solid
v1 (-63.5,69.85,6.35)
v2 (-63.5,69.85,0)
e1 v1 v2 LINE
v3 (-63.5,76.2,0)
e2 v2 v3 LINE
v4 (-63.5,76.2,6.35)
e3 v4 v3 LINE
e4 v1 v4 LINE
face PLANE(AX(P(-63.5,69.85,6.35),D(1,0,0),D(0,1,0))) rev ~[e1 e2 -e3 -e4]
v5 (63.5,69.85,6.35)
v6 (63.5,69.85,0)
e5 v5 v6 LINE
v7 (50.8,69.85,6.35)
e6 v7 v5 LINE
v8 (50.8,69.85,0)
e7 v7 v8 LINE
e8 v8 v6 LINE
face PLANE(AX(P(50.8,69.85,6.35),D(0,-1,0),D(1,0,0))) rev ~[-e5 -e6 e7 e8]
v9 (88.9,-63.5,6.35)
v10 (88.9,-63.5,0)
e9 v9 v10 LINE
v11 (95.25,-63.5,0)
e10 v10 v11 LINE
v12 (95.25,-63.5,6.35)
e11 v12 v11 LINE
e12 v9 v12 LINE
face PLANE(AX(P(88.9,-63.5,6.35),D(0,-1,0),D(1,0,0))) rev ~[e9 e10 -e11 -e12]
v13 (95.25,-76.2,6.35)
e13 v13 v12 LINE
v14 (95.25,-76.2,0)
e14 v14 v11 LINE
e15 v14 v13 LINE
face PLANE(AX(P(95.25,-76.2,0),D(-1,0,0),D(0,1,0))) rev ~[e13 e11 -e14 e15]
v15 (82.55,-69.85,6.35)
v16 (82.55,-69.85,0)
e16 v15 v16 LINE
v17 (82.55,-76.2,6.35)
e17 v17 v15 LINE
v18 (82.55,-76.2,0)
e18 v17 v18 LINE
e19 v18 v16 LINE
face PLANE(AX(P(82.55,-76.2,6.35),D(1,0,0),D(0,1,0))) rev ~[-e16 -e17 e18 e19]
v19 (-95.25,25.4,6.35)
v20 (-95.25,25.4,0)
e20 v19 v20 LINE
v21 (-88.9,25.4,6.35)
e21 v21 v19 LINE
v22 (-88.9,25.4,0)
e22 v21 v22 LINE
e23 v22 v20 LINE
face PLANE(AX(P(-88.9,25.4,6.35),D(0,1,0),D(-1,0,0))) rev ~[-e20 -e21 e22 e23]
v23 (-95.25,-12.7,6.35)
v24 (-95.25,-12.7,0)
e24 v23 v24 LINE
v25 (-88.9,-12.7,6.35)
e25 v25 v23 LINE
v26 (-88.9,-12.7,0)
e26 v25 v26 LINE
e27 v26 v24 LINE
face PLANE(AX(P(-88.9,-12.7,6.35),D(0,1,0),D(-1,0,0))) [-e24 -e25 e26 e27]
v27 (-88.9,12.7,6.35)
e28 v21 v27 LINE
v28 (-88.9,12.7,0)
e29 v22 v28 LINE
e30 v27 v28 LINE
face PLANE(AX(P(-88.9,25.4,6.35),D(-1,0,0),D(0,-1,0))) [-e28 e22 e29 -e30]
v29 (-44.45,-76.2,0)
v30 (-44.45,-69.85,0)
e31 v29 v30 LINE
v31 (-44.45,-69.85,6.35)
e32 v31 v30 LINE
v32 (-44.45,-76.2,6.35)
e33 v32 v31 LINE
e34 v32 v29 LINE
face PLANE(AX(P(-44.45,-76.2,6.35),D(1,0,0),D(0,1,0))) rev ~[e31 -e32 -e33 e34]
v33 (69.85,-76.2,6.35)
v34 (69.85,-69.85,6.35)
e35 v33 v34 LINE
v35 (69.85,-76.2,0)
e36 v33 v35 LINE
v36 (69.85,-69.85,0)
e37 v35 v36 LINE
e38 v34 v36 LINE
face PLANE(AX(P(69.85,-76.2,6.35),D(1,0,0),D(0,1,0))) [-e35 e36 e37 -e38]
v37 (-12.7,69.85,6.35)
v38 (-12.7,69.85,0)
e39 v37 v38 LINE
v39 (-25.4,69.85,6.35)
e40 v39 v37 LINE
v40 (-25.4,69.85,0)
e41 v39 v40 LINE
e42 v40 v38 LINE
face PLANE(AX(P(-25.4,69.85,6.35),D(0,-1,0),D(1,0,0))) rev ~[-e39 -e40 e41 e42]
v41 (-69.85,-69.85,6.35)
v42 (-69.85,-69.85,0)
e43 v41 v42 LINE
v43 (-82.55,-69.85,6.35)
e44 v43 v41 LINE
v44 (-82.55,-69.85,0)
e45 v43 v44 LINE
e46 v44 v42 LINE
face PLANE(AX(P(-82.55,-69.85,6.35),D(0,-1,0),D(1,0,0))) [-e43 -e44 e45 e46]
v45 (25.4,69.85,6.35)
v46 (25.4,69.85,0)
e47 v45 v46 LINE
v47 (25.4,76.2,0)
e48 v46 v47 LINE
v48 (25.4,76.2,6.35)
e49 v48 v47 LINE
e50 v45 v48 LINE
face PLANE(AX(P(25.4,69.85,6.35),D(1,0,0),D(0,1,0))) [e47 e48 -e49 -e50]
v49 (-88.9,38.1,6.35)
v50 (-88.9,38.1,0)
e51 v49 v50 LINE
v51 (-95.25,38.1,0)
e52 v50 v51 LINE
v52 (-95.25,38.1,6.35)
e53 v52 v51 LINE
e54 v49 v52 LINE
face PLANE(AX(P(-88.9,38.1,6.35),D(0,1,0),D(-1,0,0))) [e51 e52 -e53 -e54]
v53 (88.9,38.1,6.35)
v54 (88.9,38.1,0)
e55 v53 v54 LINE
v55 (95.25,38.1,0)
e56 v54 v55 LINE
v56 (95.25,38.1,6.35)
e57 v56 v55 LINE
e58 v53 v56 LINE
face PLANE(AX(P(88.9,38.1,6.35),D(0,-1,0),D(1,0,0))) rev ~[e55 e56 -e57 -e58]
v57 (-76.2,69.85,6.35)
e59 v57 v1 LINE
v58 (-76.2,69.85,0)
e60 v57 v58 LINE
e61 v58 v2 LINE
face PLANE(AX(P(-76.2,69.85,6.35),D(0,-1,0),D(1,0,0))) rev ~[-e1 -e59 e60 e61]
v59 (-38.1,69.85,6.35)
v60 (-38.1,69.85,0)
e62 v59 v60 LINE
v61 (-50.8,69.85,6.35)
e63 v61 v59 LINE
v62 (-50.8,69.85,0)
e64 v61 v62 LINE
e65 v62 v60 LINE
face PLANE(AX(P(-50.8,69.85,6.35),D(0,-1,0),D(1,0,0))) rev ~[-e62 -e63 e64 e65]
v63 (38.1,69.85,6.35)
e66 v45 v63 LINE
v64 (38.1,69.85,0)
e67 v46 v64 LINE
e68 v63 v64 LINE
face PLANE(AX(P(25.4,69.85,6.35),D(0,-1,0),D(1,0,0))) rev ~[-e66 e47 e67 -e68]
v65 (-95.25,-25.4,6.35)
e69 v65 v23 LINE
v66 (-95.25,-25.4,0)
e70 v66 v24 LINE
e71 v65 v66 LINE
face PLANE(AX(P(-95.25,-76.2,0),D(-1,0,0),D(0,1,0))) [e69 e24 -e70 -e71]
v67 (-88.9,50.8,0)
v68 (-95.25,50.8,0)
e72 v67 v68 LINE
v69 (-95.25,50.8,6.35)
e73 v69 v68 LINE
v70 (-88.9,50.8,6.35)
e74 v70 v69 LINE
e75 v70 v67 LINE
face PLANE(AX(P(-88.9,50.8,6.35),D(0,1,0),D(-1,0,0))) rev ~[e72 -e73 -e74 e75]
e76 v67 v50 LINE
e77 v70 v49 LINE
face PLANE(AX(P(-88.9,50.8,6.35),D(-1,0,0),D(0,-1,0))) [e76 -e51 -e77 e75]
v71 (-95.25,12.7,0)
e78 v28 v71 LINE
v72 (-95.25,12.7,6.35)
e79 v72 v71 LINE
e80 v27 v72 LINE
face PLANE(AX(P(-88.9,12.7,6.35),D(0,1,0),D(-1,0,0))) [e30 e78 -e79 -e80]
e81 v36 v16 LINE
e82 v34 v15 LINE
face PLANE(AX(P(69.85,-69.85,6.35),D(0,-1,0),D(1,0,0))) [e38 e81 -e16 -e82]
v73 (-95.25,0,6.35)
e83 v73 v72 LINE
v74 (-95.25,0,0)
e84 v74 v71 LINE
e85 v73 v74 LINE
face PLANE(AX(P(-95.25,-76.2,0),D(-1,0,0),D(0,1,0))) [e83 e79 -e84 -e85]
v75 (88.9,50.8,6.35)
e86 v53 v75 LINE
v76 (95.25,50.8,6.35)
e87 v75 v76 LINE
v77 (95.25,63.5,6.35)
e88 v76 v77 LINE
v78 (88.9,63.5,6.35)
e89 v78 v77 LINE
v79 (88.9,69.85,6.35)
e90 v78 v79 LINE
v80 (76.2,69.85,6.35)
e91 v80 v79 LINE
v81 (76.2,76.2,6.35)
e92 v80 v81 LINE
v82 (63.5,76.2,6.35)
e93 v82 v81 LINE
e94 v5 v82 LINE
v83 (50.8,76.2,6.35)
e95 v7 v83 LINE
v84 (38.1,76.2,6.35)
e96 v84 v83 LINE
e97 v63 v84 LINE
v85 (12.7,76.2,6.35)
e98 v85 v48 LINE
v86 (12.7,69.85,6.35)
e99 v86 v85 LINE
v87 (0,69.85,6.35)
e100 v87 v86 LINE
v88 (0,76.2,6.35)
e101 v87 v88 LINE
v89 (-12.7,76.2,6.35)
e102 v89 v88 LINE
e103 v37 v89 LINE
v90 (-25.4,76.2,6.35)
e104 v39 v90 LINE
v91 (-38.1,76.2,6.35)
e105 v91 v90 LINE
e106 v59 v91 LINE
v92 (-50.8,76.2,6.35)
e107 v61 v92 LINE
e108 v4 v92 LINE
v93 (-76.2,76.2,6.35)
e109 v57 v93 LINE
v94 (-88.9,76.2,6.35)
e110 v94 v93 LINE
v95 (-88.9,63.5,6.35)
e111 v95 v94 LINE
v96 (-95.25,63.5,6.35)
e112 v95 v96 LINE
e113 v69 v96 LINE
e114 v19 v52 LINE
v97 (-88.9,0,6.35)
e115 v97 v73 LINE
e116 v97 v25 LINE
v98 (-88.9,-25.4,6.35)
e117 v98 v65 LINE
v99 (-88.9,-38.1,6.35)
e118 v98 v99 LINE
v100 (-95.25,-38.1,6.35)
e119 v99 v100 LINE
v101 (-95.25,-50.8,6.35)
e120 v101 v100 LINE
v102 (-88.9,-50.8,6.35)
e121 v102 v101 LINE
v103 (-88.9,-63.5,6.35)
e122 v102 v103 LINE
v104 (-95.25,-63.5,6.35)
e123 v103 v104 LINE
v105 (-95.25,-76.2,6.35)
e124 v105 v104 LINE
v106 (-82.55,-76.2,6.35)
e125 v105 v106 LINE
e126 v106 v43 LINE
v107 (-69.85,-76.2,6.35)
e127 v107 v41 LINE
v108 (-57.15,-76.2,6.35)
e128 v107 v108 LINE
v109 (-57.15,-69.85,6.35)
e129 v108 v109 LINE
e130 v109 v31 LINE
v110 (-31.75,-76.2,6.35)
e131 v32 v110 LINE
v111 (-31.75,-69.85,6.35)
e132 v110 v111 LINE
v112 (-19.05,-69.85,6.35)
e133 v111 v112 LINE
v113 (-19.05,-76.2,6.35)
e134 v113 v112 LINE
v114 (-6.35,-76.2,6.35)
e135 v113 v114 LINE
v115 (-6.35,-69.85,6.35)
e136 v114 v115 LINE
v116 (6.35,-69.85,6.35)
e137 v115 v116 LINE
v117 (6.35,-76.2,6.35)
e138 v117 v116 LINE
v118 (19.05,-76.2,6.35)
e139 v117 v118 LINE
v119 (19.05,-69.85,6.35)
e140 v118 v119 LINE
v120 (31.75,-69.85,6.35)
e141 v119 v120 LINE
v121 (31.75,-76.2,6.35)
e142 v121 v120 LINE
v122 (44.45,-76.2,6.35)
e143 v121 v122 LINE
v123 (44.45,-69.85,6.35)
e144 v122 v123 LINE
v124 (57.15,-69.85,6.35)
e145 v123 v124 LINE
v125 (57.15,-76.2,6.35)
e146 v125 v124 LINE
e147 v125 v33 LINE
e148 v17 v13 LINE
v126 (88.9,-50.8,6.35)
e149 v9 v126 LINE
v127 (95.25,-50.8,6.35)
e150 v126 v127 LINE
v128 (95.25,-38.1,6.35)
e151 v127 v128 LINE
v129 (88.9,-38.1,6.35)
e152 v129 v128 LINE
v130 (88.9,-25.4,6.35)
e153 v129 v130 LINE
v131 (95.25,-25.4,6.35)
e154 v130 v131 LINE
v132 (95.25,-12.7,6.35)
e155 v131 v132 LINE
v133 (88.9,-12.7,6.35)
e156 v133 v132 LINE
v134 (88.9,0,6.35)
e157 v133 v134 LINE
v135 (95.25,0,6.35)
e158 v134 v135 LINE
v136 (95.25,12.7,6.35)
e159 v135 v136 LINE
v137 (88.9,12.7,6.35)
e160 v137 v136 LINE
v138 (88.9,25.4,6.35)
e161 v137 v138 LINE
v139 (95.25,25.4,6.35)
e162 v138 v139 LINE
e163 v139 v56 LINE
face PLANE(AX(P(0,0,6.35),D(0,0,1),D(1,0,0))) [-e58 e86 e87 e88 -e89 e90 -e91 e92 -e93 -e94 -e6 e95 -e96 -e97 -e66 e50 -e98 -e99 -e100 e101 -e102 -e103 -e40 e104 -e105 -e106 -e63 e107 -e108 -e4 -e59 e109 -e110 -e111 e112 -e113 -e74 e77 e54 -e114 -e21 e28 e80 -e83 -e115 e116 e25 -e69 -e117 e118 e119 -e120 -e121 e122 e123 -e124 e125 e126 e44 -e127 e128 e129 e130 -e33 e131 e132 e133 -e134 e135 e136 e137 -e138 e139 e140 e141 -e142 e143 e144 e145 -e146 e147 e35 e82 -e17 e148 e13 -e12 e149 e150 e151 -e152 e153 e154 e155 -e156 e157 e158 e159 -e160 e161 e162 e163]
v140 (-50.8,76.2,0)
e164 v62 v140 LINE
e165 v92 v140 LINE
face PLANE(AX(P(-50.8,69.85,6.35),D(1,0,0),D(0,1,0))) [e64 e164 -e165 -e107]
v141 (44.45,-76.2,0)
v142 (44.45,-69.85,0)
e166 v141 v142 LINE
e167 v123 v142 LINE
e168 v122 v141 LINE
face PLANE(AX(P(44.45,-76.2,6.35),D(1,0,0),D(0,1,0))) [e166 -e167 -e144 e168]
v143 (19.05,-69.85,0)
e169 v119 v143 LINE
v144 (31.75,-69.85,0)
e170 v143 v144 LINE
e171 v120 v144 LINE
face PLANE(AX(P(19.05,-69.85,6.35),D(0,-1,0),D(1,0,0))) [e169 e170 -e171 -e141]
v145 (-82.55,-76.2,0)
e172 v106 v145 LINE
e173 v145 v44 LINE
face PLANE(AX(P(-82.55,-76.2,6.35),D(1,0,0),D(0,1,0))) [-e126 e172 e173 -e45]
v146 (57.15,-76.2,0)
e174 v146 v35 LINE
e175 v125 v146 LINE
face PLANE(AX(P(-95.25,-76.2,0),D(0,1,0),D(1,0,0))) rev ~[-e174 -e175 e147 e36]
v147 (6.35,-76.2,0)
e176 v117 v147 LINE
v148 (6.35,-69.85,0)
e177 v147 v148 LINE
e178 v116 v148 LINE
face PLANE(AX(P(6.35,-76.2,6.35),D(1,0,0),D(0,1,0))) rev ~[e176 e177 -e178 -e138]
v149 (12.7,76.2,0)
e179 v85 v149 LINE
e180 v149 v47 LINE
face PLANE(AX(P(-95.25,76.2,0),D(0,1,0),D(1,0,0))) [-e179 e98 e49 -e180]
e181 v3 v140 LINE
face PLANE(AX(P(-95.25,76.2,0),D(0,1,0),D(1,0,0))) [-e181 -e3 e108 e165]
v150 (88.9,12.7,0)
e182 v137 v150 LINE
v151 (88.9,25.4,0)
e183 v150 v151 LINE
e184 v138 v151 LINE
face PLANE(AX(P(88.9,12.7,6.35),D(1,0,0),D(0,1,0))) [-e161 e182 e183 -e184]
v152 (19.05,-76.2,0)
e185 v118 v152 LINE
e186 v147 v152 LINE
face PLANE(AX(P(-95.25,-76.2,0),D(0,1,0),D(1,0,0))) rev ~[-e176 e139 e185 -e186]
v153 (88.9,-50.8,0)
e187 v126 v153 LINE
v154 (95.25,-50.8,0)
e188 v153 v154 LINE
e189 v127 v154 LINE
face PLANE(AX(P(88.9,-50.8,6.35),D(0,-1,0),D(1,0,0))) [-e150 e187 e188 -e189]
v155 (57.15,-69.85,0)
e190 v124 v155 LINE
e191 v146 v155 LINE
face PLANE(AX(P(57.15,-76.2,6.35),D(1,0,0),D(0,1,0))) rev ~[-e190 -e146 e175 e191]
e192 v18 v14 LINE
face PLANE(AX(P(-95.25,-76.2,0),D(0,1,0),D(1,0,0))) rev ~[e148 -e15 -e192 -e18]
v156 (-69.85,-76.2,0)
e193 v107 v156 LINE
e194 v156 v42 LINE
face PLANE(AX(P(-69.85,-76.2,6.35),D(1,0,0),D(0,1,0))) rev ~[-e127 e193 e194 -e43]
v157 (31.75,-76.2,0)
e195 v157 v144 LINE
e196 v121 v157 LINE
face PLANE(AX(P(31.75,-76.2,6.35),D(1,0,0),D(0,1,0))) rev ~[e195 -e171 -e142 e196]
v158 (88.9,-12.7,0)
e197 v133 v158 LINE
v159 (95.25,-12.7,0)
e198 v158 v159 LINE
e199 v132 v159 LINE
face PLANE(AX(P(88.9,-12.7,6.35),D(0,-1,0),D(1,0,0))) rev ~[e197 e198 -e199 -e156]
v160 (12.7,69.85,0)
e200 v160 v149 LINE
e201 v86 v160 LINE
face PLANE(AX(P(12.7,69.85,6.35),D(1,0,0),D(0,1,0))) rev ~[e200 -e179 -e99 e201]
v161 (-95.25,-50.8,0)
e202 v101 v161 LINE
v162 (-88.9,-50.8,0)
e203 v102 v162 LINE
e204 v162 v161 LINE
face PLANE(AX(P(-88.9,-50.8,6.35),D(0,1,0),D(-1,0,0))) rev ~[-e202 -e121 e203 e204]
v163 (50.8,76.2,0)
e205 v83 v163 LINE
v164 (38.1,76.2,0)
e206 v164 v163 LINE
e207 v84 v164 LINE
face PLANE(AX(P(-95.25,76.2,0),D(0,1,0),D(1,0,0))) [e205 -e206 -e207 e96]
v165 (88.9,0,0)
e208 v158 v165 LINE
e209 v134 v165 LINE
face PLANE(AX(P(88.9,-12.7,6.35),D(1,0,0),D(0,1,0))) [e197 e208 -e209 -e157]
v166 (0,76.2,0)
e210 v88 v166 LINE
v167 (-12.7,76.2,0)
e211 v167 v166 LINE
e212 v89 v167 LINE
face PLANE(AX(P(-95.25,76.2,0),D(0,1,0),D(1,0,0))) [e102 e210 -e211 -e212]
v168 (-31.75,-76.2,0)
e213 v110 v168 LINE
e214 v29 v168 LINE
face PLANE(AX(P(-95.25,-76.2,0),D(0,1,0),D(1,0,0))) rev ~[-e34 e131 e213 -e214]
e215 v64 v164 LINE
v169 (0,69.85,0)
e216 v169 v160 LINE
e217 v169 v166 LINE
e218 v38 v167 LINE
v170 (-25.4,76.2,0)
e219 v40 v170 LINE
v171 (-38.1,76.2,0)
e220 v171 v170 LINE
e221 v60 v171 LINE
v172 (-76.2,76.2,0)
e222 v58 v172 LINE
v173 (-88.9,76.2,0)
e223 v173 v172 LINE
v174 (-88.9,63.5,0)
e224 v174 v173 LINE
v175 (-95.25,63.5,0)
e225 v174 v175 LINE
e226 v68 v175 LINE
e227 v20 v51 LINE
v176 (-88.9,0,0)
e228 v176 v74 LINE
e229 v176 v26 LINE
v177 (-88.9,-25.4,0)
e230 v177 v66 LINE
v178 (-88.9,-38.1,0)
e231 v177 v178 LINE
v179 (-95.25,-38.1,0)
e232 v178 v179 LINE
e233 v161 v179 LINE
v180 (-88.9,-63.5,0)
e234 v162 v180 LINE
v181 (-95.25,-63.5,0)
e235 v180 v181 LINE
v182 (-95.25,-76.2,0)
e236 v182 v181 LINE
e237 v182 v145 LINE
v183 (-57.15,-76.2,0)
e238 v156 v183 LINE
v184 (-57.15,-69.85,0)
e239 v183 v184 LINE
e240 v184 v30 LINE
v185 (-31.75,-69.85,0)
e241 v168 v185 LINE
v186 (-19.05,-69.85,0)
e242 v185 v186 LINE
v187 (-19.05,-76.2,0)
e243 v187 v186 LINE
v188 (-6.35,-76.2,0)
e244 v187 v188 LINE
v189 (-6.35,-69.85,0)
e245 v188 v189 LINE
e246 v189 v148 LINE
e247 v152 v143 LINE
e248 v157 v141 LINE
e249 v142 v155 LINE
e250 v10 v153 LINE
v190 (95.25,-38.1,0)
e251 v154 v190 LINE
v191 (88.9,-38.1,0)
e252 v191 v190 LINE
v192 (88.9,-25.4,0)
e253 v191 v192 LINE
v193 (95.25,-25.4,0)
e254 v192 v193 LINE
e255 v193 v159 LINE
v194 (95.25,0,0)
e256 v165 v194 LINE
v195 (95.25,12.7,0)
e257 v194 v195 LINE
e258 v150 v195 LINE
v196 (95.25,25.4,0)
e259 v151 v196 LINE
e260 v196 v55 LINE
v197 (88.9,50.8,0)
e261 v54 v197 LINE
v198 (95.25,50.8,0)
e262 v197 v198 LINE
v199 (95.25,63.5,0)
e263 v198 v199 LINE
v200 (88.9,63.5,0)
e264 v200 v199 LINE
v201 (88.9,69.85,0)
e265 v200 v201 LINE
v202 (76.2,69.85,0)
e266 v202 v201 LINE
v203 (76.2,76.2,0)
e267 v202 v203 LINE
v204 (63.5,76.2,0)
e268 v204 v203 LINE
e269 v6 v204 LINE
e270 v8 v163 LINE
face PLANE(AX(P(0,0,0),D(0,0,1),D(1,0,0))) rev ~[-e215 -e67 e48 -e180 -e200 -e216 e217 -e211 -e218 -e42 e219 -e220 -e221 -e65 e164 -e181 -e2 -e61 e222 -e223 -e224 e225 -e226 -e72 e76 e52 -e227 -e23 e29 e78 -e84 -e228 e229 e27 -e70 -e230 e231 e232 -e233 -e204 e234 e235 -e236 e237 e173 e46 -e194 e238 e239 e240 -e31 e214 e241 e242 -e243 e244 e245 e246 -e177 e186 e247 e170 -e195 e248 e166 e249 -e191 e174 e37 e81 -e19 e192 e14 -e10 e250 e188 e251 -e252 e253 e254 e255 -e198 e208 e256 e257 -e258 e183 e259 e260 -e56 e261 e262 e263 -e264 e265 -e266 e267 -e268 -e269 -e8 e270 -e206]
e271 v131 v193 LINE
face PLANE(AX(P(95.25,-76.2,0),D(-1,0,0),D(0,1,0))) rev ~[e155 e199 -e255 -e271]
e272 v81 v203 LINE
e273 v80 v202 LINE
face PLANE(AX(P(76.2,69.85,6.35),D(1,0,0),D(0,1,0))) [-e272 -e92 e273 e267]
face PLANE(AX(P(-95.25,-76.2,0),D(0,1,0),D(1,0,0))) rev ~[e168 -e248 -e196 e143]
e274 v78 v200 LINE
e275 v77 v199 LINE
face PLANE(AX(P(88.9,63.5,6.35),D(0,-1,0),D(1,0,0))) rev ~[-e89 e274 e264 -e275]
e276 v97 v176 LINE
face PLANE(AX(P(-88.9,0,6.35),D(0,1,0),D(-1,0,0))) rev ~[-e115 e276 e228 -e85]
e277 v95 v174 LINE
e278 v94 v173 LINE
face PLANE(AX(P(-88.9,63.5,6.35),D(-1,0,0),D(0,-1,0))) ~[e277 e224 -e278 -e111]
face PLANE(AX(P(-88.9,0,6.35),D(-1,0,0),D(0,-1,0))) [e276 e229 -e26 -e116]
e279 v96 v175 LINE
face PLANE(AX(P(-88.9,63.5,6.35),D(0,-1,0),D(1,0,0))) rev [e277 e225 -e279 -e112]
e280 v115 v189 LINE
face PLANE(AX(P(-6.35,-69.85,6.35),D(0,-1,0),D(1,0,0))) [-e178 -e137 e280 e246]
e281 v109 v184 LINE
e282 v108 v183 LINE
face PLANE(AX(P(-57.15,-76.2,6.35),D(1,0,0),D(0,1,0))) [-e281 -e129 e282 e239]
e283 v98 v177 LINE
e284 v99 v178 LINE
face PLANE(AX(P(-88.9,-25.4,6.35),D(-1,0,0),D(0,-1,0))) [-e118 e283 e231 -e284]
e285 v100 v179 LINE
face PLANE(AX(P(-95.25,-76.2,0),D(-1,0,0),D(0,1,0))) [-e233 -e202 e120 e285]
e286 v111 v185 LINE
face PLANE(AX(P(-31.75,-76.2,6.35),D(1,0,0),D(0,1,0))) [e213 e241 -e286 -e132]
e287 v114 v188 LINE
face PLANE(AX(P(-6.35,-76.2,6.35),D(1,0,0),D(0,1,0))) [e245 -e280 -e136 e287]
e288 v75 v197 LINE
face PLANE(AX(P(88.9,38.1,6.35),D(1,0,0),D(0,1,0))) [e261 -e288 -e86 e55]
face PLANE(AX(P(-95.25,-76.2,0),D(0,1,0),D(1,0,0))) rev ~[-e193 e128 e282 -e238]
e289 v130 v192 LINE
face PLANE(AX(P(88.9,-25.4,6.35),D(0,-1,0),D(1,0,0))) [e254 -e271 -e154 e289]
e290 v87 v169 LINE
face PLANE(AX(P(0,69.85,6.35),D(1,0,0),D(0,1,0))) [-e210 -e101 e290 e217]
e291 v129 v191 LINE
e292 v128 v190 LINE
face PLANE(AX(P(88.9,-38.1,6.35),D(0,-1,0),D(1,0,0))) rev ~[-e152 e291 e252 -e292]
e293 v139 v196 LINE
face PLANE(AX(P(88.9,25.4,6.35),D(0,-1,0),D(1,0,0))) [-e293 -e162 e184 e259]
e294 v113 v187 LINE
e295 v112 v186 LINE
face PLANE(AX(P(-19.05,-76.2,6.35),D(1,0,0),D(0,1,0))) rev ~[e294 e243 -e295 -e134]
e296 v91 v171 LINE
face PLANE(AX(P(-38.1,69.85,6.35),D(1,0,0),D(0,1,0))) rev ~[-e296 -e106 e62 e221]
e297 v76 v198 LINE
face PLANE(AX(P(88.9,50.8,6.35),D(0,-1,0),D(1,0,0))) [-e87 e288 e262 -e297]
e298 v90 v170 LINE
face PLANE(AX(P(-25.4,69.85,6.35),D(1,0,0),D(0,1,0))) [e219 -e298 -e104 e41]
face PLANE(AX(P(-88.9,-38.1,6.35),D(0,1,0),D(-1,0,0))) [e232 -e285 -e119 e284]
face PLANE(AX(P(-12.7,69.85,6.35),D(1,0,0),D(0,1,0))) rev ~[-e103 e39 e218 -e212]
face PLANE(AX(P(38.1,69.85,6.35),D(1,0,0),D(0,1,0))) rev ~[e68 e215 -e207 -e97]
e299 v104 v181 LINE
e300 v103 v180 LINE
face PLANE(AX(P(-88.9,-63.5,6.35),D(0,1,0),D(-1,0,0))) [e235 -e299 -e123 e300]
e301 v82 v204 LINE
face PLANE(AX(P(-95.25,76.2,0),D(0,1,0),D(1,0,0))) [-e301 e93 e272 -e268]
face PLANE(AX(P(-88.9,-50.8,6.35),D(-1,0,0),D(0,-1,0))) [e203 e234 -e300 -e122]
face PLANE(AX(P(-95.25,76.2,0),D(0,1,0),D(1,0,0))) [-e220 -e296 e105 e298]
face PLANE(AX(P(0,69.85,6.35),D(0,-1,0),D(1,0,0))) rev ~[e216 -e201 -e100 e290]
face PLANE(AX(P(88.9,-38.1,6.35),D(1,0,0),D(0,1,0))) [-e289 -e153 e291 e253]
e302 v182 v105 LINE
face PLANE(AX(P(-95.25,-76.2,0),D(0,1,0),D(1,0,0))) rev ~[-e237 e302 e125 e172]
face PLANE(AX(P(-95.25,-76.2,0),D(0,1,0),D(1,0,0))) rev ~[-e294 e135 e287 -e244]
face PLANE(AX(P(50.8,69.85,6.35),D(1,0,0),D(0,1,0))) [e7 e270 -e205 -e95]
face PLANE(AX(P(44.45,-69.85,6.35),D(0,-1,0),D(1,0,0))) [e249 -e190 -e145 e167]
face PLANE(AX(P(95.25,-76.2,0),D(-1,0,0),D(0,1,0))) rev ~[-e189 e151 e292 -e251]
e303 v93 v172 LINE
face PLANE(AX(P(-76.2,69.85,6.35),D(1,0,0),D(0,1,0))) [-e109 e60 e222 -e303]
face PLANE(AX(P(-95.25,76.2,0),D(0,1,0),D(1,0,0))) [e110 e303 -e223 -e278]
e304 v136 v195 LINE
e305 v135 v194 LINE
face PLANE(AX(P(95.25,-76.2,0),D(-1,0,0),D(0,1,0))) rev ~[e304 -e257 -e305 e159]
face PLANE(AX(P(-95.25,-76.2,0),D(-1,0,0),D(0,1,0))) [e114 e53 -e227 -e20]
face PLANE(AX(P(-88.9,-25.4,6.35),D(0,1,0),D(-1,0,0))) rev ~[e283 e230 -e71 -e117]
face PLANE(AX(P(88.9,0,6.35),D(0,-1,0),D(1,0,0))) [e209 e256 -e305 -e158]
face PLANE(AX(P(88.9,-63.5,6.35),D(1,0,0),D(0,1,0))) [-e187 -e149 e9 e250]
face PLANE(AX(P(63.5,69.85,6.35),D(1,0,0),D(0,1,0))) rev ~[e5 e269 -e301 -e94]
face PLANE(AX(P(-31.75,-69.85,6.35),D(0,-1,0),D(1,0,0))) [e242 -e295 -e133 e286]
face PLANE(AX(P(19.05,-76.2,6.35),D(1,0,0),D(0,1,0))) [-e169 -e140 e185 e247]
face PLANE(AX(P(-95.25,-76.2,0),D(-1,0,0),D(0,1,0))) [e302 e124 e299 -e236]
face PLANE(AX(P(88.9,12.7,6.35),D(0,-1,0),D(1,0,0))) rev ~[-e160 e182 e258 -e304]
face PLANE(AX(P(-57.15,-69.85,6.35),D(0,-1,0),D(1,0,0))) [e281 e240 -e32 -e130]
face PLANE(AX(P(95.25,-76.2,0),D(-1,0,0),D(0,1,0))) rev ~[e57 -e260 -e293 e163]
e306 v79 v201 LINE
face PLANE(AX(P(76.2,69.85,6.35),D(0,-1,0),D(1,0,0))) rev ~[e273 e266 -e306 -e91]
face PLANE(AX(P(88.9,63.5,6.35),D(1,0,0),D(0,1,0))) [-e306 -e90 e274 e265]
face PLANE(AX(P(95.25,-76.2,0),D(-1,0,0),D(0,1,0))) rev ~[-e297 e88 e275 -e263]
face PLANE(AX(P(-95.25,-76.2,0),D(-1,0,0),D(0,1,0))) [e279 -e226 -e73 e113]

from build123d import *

# Parameters (mm, degrees)
SKETCH1_W               = 190.5
SKETCH1_H               = 152.4
BOSS_EXTRUDE1_DEPTH     = 6.35
SKETCH2_W               = 12.7
SKETCH2_H               = 6.35
CUT_EXTRUDE1_DEPTH      = 7.35
LPATTERN1_COUNT         = 7
LPATTERN1_PITCH         = 25.4
SKETCH3_W               = 6.35
SKETCH3_H               = 12.7
CUT_EXTRUDE2_DEPTH      = 7.35
LPATTERN2_COUNT         = 6
LPATTERN2_PITCH         = 25.4
MIRROR2_COPY_1_SKETCH_W = 6.35
MIRROR2_COPY_1_SKETCH_H = 12.7
MIRROR2_COPY_1_DEPTH    = 7.35
MIRROR2_COPY_2_SKETCH_W = 6.35
MIRROR2_COPY_2_SKETCH_H = 12.7
MIRROR2_COPY_2_DEPTH    = 7.35
MIRROR2_COPY_3_SKETCH_W = 6.35
MIRROR2_COPY_3_SKETCH_H = 12.7
MIRROR2_COPY_3_DEPTH    = 7.35
MIRROR2_COPY_4_SKETCH_W = 6.35
MIRROR2_COPY_4_SKETCH_H = 12.7
MIRROR2_COPY_4_DEPTH    = 7.35
MIRROR2_COPY_5_SKETCH_W = 6.35
MIRROR2_COPY_5_SKETCH_H = 12.7
MIRROR2_COPY_5_DEPTH    = 7.35
SKETCH4_W               = 12.7
SKETCH4_H               = 6.35
CUT_EXTRUDE3_DEPTH      = 7.35
LPATTERN3_COUNT         = 7
LPATTERN3_PITCH         = 25.4


with BuildPart() as part:
    # Sketch1 → Boss-Extrude1 (new body)
    with BuildSketch(Plane.XY):
        Rectangle(SKETCH1_W, SKETCH1_H)
    extrude(amount=BOSS_EXTRUDE1_DEPTH)

    # Sketch2 → Cut-Extrude1 (cut, through all)
    with BuildSketch(Plane.XY.offset(6.35)):
        with Locations((-69.85, 73.025)):
            Rectangle(SKETCH2_W, SKETCH2_H)
    cut_extrude1 = extrude(amount=-CUT_EXTRUDE1_DEPTH, mode=Mode.SUBTRACT)

    # LPattern1: Cut-Extrude1 ×7
    with Locations(*[(i * LPATTERN1_PITCH, 0, 0) for i in range(1, LPATTERN1_COUNT)]):
        add(cut_extrude1, mode=Mode.SUBTRACT)

    # Sketch3 → Cut-Extrude2 (cut, through all)
    with BuildSketch(Plane.XY.offset(6.35)):
        with Locations((92.075, 69.85)):
            Rectangle(SKETCH3_W, SKETCH3_H)
    cut_extrude2 = extrude(amount=-CUT_EXTRUDE2_DEPTH, mode=Mode.SUBTRACT)

    # LPattern2: Cut-Extrude2 ×6
    with Locations(*[(0, -i * LPATTERN2_PITCH, 0) for i in range(1, LPATTERN2_COUNT)]):
        add(cut_extrude2, mode=Mode.SUBTRACT)

    # Mirror2: Cut-Extrude2 across plane
    add(cut_extrude2.mirror(Plane(origin=(0, 0, 0), x_dir=(0, 0, 1), z_dir=(1, 0, 0))), mode=Mode.SUBTRACT)

    # Mirror2 copy 1 sketch → Mirror2 copy 1 (cut, through all)
    with BuildSketch(Plane(origin=(0, -25.4, 6.35), x_dir=(-1, 0, 0), z_dir=(0, 0, 1))):
        with Locations((92.075, -69.85)):
            Rectangle(MIRROR2_COPY_1_SKETCH_W, MIRROR2_COPY_1_SKETCH_H)
    extrude(amount=-MIRROR2_COPY_1_DEPTH, mode=Mode.SUBTRACT)

    # Mirror2 copy 2 sketch → Mirror2 copy 2 (cut, through all)
    with BuildSketch(Plane(origin=(0, -50.8, 6.35), x_dir=(-1, 0, 0), z_dir=(0, 0, 1))):
        with Locations((92.075, -69.85)):
            Rectangle(MIRROR2_COPY_2_SKETCH_W, MIRROR2_COPY_2_SKETCH_H)
    extrude(amount=-MIRROR2_COPY_2_DEPTH, mode=Mode.SUBTRACT)

    # Mirror2 copy 3 sketch → Mirror2 copy 3 (cut, through all)
    with BuildSketch(Plane(origin=(0, -76.2, 6.35), x_dir=(-1, 0, 0), z_dir=(0, 0, 1))):
        with Locations((92.075, -69.85)):
            Rectangle(MIRROR2_COPY_3_SKETCH_W, MIRROR2_COPY_3_SKETCH_H)
    extrude(amount=-MIRROR2_COPY_3_DEPTH, mode=Mode.SUBTRACT)

    # Mirror2 copy 4 sketch → Mirror2 copy 4 (cut, through all)
    with BuildSketch(Plane(origin=(0, -101.6, 6.35), x_dir=(-1, 0, 0), z_dir=(0, 0, 1))):
        with Locations((92.075, -69.85)):
            Rectangle(MIRROR2_COPY_4_SKETCH_W, MIRROR2_COPY_4_SKETCH_H)
    extrude(amount=-MIRROR2_COPY_4_DEPTH, mode=Mode.SUBTRACT)

    # Mirror2 copy 5 sketch → Mirror2 copy 5 (cut, through all)
    with BuildSketch(Plane(origin=(0, -127, 6.35), x_dir=(-1, 0, 0), z_dir=(0, 0, 1))):
        with Locations((92.075, -69.85)):
            Rectangle(MIRROR2_COPY_5_SKETCH_W, MIRROR2_COPY_5_SKETCH_H)
    extrude(amount=-MIRROR2_COPY_5_DEPTH, mode=Mode.SUBTRACT)

    # Sketch4 → Cut-Extrude3 (cut, through all)
    with BuildSketch(Plane.XY.offset(6.35)):
        with Locations((-76.2, -73.025)):
            Rectangle(SKETCH4_W, SKETCH4_H)
    cut_extrude3 = extrude(amount=-CUT_EXTRUDE3_DEPTH, mode=Mode.SUBTRACT)

    # LPattern3: Cut-Extrude3 ×7
    with Locations(*[(i * LPATTERN3_PITCH, 0, 0) for i in range(1, LPATTERN3_COUNT)]):
        add(cut_extrude3, mode=Mode.SUBTRACT)


solid = part.part
